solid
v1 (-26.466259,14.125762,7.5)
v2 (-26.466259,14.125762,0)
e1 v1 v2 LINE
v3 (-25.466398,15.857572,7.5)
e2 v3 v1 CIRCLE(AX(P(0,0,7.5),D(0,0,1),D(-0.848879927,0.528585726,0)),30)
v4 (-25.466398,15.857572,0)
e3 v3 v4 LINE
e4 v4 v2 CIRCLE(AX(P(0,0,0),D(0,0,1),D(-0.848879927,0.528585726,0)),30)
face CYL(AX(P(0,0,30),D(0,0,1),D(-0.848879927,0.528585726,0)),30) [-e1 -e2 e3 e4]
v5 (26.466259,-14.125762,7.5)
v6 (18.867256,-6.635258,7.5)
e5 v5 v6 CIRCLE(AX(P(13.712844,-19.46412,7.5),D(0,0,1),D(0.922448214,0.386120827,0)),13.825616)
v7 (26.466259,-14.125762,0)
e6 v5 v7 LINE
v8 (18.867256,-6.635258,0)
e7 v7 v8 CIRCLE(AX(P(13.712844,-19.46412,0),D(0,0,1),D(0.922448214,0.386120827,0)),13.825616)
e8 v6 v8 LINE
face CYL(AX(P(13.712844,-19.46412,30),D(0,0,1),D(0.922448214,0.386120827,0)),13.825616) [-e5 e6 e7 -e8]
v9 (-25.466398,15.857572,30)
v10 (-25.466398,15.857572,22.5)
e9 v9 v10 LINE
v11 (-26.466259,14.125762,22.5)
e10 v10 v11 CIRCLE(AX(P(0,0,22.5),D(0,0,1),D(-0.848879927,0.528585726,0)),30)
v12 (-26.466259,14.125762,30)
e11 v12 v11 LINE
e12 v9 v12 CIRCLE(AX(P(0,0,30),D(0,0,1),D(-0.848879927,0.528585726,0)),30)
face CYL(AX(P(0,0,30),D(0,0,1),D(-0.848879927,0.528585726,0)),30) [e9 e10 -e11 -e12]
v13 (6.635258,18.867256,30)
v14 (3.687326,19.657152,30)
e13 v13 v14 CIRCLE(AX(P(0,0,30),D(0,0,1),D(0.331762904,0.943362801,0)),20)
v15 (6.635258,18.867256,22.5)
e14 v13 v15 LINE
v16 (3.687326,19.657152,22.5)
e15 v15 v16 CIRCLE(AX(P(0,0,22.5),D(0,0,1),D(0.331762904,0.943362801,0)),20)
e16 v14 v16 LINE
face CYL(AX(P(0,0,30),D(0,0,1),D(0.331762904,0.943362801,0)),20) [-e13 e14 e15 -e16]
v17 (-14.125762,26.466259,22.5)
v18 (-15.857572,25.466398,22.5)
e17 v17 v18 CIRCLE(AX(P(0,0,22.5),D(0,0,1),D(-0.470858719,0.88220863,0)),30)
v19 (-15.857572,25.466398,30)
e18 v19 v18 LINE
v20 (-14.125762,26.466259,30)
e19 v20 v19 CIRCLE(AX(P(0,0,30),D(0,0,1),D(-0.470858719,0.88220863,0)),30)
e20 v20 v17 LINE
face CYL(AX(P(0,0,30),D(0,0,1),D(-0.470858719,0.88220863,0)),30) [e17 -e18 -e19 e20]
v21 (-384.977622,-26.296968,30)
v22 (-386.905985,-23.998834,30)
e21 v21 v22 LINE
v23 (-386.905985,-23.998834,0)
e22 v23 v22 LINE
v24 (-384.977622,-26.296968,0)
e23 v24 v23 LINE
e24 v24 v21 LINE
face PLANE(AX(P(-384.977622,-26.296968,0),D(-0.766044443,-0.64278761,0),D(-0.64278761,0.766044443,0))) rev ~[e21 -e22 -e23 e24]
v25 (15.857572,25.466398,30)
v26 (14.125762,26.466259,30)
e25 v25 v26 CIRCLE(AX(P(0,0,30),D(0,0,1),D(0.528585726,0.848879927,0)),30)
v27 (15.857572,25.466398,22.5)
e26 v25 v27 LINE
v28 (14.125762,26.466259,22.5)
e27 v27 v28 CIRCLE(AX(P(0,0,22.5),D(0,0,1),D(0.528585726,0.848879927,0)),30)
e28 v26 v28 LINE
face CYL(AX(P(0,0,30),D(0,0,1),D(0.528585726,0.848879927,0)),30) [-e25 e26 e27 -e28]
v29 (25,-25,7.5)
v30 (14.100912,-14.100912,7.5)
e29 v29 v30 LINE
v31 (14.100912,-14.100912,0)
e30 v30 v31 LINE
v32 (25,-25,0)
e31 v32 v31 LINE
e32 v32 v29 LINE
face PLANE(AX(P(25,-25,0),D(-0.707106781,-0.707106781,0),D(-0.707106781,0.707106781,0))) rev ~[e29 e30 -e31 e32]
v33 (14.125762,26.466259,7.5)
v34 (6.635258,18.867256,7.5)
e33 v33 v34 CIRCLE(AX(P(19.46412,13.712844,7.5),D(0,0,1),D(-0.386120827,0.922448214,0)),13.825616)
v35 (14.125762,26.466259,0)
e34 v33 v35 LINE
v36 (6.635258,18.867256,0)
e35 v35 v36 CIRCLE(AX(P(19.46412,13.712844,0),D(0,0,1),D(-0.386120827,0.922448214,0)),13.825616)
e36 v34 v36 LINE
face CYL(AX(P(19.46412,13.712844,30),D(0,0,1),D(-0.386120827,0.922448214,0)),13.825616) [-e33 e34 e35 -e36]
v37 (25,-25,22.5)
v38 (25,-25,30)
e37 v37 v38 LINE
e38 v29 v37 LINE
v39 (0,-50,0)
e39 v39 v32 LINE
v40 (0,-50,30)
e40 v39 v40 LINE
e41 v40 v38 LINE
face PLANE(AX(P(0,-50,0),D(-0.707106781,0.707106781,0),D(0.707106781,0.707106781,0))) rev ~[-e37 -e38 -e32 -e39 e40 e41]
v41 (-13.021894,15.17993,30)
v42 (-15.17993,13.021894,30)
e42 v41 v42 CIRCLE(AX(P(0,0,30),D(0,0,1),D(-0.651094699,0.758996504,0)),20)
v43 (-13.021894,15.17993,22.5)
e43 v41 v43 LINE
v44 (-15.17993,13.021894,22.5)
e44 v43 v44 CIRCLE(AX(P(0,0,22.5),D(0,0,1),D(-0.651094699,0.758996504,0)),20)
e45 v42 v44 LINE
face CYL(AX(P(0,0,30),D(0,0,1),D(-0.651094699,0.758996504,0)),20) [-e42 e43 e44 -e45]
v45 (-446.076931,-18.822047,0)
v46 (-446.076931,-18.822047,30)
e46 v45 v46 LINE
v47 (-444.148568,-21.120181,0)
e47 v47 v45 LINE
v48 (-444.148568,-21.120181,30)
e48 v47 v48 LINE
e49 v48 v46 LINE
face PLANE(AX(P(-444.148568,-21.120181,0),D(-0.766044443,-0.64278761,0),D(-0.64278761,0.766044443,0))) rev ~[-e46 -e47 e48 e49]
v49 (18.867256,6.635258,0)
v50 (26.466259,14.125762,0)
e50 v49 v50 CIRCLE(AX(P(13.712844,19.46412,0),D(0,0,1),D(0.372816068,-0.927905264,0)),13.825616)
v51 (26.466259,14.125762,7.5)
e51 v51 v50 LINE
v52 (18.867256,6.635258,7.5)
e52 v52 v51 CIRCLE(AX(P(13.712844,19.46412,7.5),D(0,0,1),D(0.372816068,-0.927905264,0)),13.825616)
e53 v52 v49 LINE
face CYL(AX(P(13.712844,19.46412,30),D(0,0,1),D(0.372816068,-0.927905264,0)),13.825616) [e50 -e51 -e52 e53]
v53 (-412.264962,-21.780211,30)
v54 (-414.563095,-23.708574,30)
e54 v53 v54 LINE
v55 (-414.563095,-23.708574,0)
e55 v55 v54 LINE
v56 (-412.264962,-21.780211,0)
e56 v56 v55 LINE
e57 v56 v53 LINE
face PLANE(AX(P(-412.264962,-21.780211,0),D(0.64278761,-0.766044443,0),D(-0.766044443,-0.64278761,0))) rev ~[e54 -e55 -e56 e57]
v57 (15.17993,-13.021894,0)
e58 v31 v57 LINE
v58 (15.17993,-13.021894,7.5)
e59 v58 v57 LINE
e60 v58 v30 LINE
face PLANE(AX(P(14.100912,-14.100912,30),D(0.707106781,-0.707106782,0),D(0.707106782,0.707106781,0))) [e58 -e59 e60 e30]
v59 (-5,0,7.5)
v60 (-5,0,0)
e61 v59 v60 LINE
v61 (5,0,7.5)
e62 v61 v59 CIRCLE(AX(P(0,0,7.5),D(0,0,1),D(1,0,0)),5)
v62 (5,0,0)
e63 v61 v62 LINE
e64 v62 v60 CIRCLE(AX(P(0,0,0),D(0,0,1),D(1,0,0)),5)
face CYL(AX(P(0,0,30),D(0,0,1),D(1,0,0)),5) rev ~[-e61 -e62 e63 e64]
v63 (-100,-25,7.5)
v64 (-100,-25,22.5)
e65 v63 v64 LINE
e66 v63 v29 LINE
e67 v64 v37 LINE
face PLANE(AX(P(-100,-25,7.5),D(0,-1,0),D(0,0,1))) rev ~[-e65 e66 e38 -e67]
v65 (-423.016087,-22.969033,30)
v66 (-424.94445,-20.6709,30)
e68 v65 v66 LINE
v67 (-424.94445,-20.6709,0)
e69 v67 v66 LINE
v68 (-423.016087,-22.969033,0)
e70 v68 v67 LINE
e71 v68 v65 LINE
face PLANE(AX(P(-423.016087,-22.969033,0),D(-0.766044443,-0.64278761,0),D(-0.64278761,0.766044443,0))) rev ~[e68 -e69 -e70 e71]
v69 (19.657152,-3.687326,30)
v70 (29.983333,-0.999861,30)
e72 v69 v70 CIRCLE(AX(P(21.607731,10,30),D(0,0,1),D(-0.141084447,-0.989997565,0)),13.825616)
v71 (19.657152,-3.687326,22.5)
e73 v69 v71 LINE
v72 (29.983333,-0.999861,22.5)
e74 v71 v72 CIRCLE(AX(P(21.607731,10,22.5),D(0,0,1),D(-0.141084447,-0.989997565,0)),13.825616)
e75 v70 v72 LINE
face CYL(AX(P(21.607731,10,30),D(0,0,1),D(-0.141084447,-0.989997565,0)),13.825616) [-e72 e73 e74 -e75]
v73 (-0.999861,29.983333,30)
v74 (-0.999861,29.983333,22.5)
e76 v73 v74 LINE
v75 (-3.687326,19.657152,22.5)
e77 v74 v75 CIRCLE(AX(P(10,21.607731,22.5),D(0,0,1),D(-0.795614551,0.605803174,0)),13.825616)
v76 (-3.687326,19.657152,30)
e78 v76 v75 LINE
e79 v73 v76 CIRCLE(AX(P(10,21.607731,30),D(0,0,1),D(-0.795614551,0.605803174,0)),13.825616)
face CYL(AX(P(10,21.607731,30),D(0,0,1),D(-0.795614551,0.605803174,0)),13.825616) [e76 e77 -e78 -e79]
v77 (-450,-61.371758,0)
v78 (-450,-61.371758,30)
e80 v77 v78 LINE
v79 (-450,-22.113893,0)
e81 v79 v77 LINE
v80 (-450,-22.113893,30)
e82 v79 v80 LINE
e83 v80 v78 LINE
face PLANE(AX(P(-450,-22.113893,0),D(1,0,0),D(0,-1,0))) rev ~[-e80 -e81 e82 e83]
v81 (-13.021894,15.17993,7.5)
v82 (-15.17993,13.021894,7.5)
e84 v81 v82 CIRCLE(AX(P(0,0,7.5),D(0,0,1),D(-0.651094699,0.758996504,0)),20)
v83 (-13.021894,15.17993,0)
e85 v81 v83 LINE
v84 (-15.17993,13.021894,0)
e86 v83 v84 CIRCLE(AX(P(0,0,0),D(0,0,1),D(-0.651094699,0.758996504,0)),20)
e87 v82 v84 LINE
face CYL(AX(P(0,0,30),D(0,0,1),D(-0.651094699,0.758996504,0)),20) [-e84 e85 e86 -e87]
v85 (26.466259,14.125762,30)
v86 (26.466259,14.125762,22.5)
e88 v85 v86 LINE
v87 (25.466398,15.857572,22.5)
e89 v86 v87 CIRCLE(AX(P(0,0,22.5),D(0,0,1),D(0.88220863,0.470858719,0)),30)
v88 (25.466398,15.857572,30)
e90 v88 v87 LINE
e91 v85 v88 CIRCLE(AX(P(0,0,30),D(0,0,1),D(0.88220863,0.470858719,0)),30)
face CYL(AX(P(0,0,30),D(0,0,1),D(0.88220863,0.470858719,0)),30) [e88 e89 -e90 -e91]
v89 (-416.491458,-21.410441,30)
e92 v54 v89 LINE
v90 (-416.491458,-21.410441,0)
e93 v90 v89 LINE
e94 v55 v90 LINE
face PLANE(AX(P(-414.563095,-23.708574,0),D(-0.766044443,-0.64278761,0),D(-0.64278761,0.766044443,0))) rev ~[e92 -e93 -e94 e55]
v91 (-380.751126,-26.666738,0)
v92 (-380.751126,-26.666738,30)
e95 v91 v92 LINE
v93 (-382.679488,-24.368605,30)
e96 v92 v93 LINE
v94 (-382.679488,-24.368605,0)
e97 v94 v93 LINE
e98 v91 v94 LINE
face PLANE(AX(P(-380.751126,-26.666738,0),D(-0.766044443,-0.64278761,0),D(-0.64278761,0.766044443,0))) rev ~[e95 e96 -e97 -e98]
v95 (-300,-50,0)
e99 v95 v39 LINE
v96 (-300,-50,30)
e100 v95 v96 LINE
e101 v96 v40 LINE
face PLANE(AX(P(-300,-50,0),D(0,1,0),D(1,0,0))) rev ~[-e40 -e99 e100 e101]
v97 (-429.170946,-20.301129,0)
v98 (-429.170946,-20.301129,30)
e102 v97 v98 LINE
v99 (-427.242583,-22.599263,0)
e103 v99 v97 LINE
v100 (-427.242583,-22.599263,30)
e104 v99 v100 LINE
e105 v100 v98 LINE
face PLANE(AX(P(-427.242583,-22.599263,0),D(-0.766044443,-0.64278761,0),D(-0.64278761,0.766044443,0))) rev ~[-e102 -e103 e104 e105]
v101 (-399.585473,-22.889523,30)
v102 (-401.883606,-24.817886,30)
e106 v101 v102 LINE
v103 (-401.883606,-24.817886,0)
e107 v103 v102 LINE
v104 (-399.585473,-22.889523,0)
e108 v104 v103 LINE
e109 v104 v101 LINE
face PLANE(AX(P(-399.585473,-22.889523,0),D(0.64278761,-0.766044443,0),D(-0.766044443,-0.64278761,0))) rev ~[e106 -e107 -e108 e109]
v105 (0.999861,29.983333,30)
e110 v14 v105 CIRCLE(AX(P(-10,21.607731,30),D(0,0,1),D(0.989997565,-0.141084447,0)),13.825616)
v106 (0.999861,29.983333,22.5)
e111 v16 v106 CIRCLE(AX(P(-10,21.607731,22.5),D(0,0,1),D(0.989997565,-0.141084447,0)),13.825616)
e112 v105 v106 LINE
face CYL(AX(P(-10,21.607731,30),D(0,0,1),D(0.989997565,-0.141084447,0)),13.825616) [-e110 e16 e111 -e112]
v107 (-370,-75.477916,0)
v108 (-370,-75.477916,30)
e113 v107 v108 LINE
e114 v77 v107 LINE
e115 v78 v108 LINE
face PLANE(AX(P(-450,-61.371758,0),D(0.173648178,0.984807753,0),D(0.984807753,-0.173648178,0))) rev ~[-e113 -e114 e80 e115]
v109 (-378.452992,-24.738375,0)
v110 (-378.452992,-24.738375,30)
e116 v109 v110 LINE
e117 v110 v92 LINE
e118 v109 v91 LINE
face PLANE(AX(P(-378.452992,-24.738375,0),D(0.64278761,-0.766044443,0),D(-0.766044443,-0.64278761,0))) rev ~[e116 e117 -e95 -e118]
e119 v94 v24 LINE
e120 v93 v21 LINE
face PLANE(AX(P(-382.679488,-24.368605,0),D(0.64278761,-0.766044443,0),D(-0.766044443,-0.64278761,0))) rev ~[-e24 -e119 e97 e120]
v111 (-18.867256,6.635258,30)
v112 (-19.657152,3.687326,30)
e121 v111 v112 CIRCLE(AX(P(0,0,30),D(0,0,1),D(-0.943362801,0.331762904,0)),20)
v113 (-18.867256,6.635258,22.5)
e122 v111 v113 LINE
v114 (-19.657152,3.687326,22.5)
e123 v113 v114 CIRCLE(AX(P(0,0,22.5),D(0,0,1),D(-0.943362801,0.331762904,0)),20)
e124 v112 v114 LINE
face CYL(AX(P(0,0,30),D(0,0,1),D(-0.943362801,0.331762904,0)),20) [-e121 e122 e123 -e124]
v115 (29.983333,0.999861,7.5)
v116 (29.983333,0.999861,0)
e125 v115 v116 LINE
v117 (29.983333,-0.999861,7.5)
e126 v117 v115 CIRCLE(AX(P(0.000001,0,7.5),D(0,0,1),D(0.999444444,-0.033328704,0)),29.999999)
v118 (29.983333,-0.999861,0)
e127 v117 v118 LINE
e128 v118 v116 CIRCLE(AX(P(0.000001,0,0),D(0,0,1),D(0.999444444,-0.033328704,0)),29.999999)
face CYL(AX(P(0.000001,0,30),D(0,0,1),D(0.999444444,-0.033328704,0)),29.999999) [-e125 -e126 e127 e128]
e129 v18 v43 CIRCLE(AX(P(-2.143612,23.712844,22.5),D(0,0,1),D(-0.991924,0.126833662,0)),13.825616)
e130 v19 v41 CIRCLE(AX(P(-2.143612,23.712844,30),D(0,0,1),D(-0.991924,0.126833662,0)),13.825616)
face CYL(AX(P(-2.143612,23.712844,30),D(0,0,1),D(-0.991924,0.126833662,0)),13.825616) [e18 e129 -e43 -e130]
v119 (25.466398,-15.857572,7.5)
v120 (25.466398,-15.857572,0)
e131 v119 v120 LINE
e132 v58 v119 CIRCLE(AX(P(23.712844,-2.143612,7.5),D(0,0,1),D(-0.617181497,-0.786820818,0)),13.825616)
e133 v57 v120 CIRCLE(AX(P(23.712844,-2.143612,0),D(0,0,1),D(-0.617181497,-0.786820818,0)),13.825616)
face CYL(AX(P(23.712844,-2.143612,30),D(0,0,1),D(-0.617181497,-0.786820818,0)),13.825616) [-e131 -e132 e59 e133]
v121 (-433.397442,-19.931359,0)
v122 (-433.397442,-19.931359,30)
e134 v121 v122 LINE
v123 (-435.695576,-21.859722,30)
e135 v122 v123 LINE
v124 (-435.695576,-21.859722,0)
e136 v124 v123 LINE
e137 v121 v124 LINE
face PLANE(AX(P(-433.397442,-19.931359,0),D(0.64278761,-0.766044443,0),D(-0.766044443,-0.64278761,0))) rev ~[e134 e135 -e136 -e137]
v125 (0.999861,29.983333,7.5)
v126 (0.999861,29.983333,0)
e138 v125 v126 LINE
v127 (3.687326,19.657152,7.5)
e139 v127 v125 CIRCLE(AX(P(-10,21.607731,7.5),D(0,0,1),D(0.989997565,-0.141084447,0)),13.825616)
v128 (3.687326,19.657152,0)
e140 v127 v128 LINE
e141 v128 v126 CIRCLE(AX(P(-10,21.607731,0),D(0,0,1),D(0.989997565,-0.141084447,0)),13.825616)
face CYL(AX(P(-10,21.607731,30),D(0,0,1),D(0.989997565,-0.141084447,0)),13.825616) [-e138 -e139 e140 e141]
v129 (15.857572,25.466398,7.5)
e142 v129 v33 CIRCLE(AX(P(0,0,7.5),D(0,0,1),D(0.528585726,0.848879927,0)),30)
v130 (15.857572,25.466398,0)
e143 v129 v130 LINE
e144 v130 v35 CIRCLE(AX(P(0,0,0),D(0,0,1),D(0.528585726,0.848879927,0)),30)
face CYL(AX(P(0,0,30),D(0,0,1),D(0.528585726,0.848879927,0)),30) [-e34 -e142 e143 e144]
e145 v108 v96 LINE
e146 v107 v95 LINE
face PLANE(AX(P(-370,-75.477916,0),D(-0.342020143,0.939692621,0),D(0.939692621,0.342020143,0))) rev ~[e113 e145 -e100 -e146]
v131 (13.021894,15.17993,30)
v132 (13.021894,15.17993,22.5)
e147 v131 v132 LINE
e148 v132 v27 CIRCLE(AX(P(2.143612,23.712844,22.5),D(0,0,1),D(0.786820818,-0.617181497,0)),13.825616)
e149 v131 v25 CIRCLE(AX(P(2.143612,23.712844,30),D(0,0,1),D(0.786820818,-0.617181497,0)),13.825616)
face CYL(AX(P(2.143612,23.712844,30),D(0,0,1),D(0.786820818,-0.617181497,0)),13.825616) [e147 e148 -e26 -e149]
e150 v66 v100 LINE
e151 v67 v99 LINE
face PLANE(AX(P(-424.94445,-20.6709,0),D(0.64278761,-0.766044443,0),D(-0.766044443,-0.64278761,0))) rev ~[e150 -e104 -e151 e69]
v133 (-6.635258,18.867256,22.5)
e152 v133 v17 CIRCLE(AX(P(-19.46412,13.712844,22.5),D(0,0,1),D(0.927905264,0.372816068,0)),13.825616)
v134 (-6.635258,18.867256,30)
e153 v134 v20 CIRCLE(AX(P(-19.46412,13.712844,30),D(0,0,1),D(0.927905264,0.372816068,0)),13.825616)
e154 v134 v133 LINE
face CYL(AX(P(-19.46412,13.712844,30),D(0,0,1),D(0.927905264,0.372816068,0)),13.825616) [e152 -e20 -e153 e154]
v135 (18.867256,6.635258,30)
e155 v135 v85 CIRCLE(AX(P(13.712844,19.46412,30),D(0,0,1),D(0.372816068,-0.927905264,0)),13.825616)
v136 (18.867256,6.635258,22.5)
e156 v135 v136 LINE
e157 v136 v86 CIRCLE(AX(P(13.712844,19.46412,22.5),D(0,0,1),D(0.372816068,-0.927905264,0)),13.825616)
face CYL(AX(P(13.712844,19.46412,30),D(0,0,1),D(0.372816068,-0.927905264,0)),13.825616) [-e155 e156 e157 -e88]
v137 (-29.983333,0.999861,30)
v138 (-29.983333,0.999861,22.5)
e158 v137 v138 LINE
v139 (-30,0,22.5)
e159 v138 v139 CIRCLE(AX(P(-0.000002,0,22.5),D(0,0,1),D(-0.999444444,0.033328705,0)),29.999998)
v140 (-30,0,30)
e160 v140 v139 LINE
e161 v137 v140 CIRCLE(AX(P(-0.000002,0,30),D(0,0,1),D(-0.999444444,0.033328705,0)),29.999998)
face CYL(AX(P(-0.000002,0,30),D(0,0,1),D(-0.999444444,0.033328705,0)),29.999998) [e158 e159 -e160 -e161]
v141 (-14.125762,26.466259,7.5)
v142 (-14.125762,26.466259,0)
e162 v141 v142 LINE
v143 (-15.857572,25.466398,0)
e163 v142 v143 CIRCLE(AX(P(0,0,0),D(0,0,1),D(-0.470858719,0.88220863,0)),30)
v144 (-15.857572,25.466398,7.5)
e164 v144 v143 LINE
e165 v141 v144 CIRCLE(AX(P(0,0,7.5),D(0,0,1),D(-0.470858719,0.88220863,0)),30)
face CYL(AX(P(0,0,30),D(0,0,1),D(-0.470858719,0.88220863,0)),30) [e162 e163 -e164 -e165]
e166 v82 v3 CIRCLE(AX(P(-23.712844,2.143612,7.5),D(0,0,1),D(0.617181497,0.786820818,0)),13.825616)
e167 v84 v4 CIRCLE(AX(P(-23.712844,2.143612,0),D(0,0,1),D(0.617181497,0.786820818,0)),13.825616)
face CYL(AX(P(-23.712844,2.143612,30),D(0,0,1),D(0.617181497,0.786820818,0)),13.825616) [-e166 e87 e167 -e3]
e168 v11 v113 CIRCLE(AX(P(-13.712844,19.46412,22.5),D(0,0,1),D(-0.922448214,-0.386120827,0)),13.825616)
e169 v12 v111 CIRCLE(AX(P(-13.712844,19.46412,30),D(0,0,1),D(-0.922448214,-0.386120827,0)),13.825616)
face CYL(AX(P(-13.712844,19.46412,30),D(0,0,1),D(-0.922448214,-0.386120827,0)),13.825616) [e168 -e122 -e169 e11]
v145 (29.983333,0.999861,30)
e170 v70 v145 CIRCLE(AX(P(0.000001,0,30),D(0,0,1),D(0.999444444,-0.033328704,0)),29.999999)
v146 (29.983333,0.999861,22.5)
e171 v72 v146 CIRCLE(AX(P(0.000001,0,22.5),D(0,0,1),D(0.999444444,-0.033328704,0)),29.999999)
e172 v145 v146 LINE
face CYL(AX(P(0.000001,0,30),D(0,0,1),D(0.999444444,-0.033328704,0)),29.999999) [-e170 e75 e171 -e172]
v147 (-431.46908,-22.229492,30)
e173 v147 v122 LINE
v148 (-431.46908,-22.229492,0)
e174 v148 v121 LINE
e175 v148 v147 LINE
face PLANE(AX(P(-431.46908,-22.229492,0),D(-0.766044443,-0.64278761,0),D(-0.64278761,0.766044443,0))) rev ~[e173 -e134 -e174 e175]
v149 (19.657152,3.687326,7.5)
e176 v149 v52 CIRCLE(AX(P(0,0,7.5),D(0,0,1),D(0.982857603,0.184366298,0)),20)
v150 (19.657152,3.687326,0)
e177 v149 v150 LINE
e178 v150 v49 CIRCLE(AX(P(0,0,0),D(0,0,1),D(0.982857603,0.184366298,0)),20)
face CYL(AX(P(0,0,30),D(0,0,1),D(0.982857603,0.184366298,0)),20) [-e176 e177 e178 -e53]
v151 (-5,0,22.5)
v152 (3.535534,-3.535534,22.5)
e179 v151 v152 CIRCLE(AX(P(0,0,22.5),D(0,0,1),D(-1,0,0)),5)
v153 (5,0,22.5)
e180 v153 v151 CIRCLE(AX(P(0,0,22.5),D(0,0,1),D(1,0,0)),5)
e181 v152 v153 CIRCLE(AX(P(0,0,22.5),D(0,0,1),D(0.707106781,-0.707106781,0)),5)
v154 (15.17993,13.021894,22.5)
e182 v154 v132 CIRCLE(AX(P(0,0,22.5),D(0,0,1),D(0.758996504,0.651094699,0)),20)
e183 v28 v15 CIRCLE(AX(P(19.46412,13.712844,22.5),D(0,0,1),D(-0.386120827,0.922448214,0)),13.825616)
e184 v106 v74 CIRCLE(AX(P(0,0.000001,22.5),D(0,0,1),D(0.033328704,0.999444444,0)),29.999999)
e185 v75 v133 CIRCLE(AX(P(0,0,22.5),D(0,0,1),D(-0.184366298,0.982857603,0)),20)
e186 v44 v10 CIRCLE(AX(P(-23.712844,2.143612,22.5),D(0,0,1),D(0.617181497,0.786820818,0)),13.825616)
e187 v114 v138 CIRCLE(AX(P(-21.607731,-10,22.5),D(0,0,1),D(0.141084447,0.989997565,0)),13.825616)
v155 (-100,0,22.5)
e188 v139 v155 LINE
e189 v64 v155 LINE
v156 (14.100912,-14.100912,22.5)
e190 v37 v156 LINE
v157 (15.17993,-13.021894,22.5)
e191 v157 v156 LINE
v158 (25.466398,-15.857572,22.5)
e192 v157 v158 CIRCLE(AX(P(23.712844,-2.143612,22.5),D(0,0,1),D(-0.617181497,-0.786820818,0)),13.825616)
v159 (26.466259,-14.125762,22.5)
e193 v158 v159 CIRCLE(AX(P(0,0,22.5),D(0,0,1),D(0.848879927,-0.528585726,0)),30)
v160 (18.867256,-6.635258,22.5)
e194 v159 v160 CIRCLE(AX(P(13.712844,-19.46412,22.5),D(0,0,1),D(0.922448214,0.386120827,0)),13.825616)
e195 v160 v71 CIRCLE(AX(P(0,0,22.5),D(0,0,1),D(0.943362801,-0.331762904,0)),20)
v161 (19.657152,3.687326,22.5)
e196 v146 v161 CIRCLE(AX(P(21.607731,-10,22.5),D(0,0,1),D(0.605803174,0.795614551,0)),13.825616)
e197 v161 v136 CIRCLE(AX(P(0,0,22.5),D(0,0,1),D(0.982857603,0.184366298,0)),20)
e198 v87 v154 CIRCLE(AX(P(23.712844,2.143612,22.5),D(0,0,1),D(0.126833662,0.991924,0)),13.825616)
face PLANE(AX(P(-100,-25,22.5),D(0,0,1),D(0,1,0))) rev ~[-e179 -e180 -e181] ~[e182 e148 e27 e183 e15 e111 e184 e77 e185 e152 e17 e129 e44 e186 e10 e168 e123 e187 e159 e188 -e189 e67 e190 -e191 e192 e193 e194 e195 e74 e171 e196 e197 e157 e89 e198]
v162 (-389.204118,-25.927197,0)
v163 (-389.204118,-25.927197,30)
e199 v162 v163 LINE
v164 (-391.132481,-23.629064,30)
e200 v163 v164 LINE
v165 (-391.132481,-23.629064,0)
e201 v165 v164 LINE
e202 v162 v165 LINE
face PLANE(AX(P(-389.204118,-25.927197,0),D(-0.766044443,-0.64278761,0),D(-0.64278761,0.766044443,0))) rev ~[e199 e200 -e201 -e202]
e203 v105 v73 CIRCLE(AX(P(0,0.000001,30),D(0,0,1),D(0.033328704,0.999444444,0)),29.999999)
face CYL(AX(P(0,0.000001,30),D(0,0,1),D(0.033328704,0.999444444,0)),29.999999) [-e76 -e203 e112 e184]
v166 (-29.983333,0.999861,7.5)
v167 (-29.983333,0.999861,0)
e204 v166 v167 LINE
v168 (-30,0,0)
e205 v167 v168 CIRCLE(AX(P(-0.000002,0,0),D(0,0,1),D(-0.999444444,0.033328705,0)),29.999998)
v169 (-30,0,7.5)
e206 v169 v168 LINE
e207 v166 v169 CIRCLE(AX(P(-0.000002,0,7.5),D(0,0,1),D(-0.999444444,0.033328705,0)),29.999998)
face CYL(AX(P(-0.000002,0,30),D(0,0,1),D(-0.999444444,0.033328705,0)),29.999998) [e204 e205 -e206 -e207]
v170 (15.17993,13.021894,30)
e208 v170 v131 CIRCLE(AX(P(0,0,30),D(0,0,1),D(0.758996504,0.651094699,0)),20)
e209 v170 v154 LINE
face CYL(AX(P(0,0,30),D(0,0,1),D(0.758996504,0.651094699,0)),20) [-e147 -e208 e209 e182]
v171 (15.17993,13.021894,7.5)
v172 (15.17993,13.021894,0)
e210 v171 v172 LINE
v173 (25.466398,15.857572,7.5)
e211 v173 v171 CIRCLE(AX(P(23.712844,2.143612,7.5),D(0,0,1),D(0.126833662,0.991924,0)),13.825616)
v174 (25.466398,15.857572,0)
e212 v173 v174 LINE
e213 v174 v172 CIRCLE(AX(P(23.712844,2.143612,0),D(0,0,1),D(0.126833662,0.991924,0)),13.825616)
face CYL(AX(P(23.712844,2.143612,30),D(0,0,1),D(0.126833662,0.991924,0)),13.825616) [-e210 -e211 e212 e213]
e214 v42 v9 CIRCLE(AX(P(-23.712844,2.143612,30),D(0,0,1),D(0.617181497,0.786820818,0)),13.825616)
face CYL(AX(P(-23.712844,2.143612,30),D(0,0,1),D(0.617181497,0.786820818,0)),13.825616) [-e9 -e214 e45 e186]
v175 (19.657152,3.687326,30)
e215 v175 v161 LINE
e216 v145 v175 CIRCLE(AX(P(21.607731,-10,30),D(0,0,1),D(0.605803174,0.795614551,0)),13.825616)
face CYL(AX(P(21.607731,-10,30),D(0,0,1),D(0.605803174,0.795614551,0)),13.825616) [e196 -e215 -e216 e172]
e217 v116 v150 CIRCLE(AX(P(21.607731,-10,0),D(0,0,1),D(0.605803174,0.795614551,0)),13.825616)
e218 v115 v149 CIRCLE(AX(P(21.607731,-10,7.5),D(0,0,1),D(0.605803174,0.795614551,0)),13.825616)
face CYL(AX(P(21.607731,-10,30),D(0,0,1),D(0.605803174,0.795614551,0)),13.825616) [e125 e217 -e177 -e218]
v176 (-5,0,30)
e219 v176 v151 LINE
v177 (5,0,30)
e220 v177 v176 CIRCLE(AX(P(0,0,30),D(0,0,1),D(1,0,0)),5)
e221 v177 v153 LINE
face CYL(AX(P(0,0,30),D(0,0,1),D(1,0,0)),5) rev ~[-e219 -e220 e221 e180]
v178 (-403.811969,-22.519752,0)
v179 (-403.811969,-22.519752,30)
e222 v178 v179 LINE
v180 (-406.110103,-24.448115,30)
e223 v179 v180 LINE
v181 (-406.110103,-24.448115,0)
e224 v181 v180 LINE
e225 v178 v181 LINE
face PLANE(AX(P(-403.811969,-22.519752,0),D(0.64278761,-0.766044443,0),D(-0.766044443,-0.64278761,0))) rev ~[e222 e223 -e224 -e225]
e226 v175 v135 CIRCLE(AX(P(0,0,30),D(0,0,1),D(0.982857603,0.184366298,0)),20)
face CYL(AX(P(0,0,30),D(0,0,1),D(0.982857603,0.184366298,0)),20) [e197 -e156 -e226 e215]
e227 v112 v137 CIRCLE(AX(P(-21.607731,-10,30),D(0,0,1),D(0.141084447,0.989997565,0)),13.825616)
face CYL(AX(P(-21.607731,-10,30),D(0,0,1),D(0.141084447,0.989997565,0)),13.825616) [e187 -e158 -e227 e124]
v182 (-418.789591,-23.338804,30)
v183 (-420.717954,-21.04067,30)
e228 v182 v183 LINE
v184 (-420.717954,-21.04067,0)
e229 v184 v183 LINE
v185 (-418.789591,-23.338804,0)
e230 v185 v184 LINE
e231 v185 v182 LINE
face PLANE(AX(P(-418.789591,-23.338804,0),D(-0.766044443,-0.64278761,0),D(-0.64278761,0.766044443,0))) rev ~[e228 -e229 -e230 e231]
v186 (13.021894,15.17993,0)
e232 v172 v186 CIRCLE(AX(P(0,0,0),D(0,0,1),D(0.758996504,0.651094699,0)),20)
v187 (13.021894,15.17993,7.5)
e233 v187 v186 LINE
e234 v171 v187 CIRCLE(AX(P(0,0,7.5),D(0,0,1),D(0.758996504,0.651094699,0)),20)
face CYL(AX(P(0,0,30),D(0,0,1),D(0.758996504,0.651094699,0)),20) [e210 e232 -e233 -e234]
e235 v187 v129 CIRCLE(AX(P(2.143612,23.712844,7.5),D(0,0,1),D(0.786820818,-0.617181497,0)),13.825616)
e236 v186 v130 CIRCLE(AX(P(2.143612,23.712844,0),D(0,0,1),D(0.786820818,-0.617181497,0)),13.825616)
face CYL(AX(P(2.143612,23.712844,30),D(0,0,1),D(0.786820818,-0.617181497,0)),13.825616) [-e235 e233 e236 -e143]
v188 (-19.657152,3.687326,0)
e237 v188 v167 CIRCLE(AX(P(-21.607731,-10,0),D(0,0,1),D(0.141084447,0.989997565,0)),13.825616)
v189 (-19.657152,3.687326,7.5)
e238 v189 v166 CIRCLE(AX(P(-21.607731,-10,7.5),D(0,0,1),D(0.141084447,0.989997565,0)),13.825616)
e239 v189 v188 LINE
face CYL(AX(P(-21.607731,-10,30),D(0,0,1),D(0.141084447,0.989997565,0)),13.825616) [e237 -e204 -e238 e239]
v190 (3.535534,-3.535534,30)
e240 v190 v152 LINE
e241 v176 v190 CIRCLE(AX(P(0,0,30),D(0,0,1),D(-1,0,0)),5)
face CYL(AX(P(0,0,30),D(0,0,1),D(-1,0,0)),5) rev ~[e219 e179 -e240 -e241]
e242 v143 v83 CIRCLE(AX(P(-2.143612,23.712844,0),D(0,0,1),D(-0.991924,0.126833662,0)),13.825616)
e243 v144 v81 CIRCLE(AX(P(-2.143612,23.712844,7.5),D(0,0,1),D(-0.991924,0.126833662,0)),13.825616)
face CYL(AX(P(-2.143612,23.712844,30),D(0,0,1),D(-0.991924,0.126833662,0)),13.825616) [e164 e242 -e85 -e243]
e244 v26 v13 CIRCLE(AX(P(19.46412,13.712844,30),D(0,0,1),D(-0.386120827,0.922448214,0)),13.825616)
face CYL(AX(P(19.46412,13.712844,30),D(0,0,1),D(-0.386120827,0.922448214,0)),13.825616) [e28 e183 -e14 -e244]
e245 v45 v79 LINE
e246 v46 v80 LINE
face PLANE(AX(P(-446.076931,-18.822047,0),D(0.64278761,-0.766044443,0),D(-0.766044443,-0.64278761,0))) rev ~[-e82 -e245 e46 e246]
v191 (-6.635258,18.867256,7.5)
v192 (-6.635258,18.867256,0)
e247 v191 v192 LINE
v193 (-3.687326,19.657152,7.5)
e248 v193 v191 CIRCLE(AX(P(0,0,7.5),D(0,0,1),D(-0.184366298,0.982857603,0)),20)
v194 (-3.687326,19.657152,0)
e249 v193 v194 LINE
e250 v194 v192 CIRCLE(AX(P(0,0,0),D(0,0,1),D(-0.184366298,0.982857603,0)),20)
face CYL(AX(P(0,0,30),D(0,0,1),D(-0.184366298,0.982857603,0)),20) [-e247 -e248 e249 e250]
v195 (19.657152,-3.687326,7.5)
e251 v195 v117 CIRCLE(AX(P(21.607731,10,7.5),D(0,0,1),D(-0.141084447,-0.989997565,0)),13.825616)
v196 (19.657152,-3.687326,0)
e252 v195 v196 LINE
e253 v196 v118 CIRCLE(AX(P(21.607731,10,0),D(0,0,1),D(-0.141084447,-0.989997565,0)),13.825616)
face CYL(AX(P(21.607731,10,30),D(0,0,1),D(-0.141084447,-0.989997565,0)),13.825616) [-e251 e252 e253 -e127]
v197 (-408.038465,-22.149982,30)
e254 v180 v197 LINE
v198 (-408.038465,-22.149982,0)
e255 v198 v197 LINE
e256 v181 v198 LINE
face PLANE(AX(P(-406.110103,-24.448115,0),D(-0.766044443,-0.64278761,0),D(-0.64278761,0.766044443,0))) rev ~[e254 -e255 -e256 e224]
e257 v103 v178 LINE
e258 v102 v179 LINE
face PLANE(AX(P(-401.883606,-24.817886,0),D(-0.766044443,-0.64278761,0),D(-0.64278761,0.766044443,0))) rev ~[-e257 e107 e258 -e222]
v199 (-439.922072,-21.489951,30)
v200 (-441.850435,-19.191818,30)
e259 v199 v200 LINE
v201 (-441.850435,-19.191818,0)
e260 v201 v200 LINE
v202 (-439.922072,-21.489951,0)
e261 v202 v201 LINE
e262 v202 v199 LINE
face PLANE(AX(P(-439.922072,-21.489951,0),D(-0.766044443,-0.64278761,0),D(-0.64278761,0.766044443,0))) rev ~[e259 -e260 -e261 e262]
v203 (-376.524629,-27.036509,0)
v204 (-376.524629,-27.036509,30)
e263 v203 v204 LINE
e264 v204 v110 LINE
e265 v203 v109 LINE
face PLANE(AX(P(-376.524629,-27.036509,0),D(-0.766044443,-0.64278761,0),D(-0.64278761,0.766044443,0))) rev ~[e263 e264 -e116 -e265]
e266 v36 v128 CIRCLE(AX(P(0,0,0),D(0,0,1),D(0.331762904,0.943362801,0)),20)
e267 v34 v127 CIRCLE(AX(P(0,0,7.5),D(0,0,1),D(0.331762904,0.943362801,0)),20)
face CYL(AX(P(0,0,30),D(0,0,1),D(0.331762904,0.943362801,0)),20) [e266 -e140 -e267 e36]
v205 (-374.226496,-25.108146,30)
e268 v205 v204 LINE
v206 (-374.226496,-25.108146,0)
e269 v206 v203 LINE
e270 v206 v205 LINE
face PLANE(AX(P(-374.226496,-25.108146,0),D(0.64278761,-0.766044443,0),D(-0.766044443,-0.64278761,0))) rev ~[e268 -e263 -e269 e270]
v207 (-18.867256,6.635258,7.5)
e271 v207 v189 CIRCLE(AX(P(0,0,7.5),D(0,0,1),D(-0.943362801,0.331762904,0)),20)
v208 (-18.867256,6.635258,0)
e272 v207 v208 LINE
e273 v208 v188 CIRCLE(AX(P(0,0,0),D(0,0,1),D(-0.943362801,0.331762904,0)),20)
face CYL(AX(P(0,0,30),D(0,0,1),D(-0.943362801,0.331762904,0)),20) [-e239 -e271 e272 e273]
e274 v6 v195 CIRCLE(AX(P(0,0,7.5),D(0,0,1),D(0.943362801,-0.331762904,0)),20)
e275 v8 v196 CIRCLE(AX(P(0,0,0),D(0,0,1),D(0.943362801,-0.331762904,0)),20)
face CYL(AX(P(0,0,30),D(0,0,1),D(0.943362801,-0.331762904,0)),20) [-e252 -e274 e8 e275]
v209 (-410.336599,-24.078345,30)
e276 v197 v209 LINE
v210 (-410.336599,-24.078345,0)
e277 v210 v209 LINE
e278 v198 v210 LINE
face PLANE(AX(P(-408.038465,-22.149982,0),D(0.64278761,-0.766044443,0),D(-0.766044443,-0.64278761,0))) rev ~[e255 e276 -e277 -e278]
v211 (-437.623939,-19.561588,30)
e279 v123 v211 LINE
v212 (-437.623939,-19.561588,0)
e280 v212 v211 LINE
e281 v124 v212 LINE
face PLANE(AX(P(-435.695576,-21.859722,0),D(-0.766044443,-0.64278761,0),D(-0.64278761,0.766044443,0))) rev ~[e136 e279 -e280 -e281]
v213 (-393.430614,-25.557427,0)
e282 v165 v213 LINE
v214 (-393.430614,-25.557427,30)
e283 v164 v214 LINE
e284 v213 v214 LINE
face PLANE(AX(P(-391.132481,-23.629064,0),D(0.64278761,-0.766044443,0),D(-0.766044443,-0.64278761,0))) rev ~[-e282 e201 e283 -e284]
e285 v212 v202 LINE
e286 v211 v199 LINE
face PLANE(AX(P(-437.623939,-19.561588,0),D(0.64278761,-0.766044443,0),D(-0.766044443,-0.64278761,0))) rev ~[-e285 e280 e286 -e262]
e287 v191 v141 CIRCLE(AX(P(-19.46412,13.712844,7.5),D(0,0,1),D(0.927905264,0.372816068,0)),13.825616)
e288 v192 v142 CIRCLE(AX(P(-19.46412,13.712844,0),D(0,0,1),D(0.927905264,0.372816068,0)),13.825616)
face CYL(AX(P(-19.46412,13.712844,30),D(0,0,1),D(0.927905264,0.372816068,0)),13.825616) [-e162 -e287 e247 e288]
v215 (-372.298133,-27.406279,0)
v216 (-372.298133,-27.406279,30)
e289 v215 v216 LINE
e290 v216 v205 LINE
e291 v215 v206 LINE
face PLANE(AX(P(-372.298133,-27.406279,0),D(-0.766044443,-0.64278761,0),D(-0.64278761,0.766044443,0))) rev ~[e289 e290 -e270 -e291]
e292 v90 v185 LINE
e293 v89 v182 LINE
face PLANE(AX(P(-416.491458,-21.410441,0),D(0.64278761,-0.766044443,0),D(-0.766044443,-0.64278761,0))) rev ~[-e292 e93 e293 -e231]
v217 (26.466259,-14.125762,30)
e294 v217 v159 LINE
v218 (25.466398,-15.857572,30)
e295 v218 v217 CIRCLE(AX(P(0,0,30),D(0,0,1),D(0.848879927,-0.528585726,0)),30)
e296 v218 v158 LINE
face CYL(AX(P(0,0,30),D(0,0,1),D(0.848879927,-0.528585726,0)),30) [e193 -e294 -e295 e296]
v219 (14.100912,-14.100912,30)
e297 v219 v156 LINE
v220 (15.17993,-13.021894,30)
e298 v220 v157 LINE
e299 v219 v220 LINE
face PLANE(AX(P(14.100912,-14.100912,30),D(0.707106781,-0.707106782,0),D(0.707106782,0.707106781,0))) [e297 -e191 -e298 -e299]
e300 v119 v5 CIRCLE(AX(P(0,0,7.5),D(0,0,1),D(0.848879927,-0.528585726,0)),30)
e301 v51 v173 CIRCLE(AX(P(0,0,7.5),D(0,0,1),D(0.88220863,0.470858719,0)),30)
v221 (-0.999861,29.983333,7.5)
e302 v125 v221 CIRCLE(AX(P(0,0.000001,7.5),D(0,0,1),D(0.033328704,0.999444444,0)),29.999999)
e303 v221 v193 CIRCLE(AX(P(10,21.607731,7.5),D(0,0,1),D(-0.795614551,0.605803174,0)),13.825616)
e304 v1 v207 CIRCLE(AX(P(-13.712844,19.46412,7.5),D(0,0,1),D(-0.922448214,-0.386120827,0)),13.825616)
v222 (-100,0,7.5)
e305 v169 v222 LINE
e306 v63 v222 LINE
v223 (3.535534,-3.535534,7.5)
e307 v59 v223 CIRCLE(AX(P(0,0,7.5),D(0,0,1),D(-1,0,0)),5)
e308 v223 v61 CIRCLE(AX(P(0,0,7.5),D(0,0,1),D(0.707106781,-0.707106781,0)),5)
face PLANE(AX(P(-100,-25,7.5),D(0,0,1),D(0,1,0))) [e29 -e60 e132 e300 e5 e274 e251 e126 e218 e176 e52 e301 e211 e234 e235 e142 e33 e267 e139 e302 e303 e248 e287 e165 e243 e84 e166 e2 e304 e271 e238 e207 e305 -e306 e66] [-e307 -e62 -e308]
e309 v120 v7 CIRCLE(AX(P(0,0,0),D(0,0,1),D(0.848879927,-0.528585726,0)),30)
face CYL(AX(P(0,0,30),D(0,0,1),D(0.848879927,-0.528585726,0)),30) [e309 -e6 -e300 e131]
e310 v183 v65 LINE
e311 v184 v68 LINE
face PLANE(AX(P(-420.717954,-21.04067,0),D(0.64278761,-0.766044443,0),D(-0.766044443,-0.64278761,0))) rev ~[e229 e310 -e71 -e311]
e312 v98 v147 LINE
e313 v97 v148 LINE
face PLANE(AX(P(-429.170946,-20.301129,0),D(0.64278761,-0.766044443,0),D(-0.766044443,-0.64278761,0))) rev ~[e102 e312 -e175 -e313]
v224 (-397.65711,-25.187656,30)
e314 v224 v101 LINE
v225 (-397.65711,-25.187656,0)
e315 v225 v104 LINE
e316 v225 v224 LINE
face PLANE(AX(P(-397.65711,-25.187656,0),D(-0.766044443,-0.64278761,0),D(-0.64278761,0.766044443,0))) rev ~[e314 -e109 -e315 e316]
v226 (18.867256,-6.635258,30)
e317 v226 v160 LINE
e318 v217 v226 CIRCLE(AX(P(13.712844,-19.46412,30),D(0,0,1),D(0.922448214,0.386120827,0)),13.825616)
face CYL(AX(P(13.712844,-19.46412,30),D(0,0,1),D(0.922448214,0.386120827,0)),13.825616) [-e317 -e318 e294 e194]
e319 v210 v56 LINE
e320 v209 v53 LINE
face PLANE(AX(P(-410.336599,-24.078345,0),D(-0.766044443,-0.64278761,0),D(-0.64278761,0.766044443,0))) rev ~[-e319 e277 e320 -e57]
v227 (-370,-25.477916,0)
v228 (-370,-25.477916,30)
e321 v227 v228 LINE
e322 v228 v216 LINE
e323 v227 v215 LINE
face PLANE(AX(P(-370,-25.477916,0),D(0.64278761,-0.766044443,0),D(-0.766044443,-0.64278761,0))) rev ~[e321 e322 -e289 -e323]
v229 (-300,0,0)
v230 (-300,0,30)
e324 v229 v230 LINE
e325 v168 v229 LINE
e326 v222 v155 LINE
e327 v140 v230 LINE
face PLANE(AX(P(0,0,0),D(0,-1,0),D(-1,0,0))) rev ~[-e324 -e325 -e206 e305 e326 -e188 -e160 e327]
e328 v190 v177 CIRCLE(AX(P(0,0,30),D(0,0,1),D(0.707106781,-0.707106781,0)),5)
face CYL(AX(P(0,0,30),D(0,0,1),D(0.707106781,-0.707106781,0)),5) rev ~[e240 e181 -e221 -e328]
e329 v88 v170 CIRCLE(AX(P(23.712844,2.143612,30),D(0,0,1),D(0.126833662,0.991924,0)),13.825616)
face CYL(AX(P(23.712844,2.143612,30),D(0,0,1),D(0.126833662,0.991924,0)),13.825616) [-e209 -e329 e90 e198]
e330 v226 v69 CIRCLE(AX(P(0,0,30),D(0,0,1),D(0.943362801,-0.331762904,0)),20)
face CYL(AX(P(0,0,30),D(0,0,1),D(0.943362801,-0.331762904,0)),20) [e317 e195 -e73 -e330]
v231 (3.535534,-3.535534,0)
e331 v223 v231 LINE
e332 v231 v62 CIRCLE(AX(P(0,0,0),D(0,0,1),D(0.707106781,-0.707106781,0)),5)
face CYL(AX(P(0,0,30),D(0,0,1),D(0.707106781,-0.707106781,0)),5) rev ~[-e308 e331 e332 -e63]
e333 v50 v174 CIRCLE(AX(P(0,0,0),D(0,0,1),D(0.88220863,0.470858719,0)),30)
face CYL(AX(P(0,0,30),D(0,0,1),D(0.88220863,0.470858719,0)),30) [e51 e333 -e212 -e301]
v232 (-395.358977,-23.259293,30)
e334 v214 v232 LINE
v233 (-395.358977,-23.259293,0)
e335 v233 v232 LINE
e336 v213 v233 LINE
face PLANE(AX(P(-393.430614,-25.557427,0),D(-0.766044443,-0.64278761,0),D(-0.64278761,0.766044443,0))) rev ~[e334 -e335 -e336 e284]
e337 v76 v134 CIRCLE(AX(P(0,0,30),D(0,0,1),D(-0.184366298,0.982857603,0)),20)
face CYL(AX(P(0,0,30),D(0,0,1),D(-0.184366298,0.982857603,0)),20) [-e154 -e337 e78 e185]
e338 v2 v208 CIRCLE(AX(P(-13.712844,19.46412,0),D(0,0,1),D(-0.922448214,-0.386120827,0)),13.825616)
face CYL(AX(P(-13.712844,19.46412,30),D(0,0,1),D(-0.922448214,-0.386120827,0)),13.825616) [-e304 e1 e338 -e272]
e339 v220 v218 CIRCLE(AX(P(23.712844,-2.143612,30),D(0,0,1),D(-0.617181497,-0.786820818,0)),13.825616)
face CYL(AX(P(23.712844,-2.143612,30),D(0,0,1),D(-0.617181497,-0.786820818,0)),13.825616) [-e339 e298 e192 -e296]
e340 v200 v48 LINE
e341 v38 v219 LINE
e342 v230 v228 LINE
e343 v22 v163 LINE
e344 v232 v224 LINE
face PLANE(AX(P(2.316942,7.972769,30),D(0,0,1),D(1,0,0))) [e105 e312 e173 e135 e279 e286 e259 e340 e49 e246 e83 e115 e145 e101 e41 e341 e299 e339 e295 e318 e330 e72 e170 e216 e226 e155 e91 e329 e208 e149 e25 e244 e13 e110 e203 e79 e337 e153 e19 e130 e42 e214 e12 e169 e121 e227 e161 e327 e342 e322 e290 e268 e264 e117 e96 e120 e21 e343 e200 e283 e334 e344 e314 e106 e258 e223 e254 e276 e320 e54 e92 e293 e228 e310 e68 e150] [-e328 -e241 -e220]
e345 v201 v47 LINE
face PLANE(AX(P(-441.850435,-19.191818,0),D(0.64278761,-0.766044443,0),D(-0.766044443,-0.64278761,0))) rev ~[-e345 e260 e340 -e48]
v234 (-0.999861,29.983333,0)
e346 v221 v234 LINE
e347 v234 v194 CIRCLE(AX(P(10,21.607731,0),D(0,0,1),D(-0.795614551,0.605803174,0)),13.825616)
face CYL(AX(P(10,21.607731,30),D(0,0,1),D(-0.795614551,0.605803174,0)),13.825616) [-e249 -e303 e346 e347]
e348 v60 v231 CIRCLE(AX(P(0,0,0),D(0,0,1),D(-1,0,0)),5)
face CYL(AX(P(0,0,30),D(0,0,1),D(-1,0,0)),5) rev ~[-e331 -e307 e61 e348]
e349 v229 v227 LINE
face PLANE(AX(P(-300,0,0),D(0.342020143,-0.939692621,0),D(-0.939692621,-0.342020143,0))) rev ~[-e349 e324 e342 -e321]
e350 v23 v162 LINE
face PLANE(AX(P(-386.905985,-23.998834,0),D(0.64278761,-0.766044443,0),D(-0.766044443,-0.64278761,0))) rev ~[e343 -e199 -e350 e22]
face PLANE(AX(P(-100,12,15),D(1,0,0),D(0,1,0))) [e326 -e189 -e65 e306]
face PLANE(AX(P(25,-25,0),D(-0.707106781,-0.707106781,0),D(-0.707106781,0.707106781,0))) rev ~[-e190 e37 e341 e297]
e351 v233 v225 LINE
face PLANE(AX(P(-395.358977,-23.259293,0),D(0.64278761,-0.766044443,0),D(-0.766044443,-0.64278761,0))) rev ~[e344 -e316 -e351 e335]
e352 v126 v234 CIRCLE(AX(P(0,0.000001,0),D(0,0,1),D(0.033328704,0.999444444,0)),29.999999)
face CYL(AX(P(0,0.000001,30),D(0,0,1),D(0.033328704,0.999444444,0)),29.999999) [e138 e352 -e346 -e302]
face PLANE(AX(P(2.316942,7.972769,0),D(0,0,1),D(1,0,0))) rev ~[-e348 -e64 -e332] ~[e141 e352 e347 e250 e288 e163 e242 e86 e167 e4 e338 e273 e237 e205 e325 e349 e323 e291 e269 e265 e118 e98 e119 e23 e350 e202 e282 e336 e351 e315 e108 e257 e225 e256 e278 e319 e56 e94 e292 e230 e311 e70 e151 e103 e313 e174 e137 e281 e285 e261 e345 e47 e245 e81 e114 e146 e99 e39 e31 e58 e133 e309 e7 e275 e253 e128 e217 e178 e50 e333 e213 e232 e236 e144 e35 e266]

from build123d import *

# Parameters (mm, degrees)
BOSS_EXTRUDE1_DEPTH     = 30
BOSS_EXTRUDE2_DEPTH     = 30
CUT_EXTRUDE1_DEPTH      = 30
CUT_EXTRUDE3_DEPTH      = 43
CUT_EXTRUDE3_DEPTH_BACK = 100
SKETCH4_W               = 74
SKETCH4_H               = 15


with BuildPart() as part:
    # Sketch1 → Boss-Extrude1 (new body)
    with BuildSketch(Plane(origin=(0, 0, 0), x_dir=(0, 1, 0), z_dir=(0, 0, 1))):
        Polygon((0, 0), (0, 300), (-25.477916399, 370), (-27.406279228, 372.298133329), (-25.108145898, 374.226496158), (-27.036508727, 376.524629488), (-24.738375398, 378.452992317), (-26.666738227, 380.751125646), (-24.368604898, 382.679488475), (-26.296967727, 384.977621805), (-23.998834397, 386.905984634), (-25.927197227, 389.204117963), (-23.629063897, 391.132480792), (-25.557426726, 393.430614121), (-23.259293397, 395.35897695), (-25.187656226, 397.65711028), (-22.889522897, 399.585473109), (-24.817885726, 401.883606438), (-22.519752396, 403.811969267), (-24.448115225, 406.110102597), (-22.149981896, 408.038465426), (-24.078344725, 410.336598755), (-21.780211396, 412.264961584), (-23.708574225, 414.563094914), (-21.410440895, 416.491457743), (-23.338803724, 418.789591072), (-21.040670395, 420.717953901), (-22.969033224, 423.01608723), (-20.670899895, 424.944450059), (-22.599262724, 427.242583389), (-20.301129394, 429.170946218), (-22.229492224, 431.469079547), (-19.931358894, 433.397442376), (-21.859721723, 435.695575706), (-19.561588394, 437.623938535), (-21.489951223, 439.922071864), (-19.191817894, 441.850434693), (-21.120180723, 444.148568022), (-18.822047393, 446.076930851), (-22.113893269, 450), (-61.371757942, 450), (-75.477916399, 370), (-50, 300), (-50, 0), (-25, -25), align=None)
    extrude(amount=BOSS_EXTRUDE1_DEPTH)

    # Sketch3 → Boss-Extrude2 (add)
    with BuildSketch(Plane.XY.offset(30)):
        with BuildLine():
            Line((3.535533906, -3.535533906), (14.100912029, -14.100912029))
            Line((14.100912029, -14.100912029), (15.179930074, -13.021893985))
            ThreePointArc((15.179930074, -13.021893985), (20.03858246, -15.472056871), (25.466397806, -15.857571781))
            ThreePointArc((25.466397806, -15.857571781), (25.980762114, -15), (26.466258908, -14.125761553))
            ThreePointArc((26.466258908, -14.125761553), (23.418485529, -9.61789303), (18.867256033, -6.635258079))
            ThreePointArc((18.867256033, -6.635258079), (19.318516526, -5.176380902), (19.657152064, -3.68732596))
            ThreePointArc((19.657152064, -3.68732596), (25.089949902, -3.37990307), (29.983333333, -0.999861101))
            ThreePointArc((29.983333333, -0.999861101), (30, 0), (29.983333333, 0.999861101))
            ThreePointArc((29.983333333, 0.999861101), (25.089949902, 3.37990307), (19.657152064, 3.68732596))
            ThreePointArc((19.657152064, 3.68732596), (19.318516526, 5.176380902), (18.867256033, 6.635258079))
            ThreePointArc((18.867256033, 6.635258079), (23.418485529, 9.61789303), (26.466258908, 14.125761553))
            ThreePointArc((26.466258908, 14.125761553), (25.980762114, 15), (25.466397806, 15.857571781))
            ThreePointArc((25.466397806, 15.857571781), (20.03858246, 15.472056871), (15.179930074, 13.021893985))
            ThreePointArc((15.179930074, 13.021893985), (14.142135624, 14.142135624), (13.021893985, 15.179930074))
            ThreePointArc((13.021893985, 15.179930074), (15.472056871, 20.03858246), (15.857571781, 25.466397806))
            ThreePointArc((15.857571781, 25.466397806), (15, 25.980762114), (14.125761553, 26.466258908))
            ThreePointArc((14.125761553, 26.466258908), (9.61789303, 23.418485529), (6.635258079, 18.867256033))
            ThreePointArc((6.635258079, 18.867256033), (5.176380902, 19.318516526), (3.68732596, 19.657152064))
            ThreePointArc((3.68732596, 19.657152064), (3.37990307, 25.089949902), (0.999861101, 29.983333333))
            ThreePointArc((0.999861101, 29.983333333), (0, 30), (-0.999861101, 29.983333333))
            ThreePointArc((-0.999861101, 29.983333333), (-3.37990307, 25.089949902), (-3.68732596, 19.657152064))
            ThreePointArc((-3.68732596, 19.657152064), (-5.176380902, 19.318516526), (-6.635258079, 18.867256033))
            ThreePointArc((-6.635258079, 18.867256033), (-9.61789303, 23.418485529), (-14.125761553, 26.466258908))
            ThreePointArc((-14.125761553, 26.466258908), (-15, 25.980762114), (-15.857571781, 25.466397806))
            ThreePointArc((-15.857571781, 25.466397806), (-15.472056871, 20.03858246), (-13.021893985, 15.179930074))
            ThreePointArc((-13.021893985, 15.179930074), (-14.142135624, 14.142135624), (-15.179930074, 13.021893985))
            ThreePointArc((-15.179930074, 13.021893985), (-20.03858246, 15.472056871), (-25.466397806, 15.857571781))
            ThreePointArc((-25.466397806, 15.857571781), (-25.980762114, 15), (-26.466258908, 14.125761553))
            ThreePointArc((-26.466258908, 14.125761553), (-23.418485529, 9.61789303), (-18.867256033, 6.635258079))
            ThreePointArc((-18.867256033, 6.635258079), (-19.318516526, 5.176380902), (-19.657152064, 3.68732596))
            ThreePointArc((-19.657152064, 3.68732596), (-25.089949902, 3.37990307), (-29.983333333, 0.999861101))
            ThreePointArc((-29.983333333, 0.999861101), (-29.995833044, 0.5), (-30, 0))
            Line((-30, 0), (-5, 0))
            ThreePointArc((-5, 0), (-1.913417162, -4.619397663), (3.535533906, -3.535533906))
        make_face()
    extrude(amount=-BOSS_EXTRUDE2_DEPTH)

    # Sketch3<6> → Cut-Extrude1 (cut)
    with BuildSketch(Plane.XY.offset(30)):
        with BuildLine():
            Line((0, 0), (3.535533906, -3.535533906))
            ThreePointArc((3.535533906, -3.535533906), (4.619397663, -1.913417162), (5, 0))
            ThreePointArc((5, 0), (0, 5), (-5, 0))
            Line((-5, 0), (0, 0))
        make_face()
        with BuildLine():
            ThreePointArc((-5, 0), (-1.913417162, -4.619397663), (3.535533906, -3.535533906))
            Line((3.535533906, -3.535533906), (0, 0))
            Line((0, 0), (-5, 0))
        make_face()
    extrude(amount=-CUT_EXTRUDE1_DEPTH, mode=Mode.SUBTRACT)

    # Sketch4 → Cut-Extrude3 (cut, two sides: drawn at the far end of the back side and taken through both)
    with BuildSketch(Plane.YZ.offset(-CUT_EXTRUDE3_DEPTH_BACK)):
        with Locations((12, 15)):
            Rectangle(SKETCH4_W, SKETCH4_H)
    extrude(amount=CUT_EXTRUDE3_DEPTH + CUT_EXTRUDE3_DEPTH_BACK, mode=Mode.SUBTRACT)


solid = part.part
